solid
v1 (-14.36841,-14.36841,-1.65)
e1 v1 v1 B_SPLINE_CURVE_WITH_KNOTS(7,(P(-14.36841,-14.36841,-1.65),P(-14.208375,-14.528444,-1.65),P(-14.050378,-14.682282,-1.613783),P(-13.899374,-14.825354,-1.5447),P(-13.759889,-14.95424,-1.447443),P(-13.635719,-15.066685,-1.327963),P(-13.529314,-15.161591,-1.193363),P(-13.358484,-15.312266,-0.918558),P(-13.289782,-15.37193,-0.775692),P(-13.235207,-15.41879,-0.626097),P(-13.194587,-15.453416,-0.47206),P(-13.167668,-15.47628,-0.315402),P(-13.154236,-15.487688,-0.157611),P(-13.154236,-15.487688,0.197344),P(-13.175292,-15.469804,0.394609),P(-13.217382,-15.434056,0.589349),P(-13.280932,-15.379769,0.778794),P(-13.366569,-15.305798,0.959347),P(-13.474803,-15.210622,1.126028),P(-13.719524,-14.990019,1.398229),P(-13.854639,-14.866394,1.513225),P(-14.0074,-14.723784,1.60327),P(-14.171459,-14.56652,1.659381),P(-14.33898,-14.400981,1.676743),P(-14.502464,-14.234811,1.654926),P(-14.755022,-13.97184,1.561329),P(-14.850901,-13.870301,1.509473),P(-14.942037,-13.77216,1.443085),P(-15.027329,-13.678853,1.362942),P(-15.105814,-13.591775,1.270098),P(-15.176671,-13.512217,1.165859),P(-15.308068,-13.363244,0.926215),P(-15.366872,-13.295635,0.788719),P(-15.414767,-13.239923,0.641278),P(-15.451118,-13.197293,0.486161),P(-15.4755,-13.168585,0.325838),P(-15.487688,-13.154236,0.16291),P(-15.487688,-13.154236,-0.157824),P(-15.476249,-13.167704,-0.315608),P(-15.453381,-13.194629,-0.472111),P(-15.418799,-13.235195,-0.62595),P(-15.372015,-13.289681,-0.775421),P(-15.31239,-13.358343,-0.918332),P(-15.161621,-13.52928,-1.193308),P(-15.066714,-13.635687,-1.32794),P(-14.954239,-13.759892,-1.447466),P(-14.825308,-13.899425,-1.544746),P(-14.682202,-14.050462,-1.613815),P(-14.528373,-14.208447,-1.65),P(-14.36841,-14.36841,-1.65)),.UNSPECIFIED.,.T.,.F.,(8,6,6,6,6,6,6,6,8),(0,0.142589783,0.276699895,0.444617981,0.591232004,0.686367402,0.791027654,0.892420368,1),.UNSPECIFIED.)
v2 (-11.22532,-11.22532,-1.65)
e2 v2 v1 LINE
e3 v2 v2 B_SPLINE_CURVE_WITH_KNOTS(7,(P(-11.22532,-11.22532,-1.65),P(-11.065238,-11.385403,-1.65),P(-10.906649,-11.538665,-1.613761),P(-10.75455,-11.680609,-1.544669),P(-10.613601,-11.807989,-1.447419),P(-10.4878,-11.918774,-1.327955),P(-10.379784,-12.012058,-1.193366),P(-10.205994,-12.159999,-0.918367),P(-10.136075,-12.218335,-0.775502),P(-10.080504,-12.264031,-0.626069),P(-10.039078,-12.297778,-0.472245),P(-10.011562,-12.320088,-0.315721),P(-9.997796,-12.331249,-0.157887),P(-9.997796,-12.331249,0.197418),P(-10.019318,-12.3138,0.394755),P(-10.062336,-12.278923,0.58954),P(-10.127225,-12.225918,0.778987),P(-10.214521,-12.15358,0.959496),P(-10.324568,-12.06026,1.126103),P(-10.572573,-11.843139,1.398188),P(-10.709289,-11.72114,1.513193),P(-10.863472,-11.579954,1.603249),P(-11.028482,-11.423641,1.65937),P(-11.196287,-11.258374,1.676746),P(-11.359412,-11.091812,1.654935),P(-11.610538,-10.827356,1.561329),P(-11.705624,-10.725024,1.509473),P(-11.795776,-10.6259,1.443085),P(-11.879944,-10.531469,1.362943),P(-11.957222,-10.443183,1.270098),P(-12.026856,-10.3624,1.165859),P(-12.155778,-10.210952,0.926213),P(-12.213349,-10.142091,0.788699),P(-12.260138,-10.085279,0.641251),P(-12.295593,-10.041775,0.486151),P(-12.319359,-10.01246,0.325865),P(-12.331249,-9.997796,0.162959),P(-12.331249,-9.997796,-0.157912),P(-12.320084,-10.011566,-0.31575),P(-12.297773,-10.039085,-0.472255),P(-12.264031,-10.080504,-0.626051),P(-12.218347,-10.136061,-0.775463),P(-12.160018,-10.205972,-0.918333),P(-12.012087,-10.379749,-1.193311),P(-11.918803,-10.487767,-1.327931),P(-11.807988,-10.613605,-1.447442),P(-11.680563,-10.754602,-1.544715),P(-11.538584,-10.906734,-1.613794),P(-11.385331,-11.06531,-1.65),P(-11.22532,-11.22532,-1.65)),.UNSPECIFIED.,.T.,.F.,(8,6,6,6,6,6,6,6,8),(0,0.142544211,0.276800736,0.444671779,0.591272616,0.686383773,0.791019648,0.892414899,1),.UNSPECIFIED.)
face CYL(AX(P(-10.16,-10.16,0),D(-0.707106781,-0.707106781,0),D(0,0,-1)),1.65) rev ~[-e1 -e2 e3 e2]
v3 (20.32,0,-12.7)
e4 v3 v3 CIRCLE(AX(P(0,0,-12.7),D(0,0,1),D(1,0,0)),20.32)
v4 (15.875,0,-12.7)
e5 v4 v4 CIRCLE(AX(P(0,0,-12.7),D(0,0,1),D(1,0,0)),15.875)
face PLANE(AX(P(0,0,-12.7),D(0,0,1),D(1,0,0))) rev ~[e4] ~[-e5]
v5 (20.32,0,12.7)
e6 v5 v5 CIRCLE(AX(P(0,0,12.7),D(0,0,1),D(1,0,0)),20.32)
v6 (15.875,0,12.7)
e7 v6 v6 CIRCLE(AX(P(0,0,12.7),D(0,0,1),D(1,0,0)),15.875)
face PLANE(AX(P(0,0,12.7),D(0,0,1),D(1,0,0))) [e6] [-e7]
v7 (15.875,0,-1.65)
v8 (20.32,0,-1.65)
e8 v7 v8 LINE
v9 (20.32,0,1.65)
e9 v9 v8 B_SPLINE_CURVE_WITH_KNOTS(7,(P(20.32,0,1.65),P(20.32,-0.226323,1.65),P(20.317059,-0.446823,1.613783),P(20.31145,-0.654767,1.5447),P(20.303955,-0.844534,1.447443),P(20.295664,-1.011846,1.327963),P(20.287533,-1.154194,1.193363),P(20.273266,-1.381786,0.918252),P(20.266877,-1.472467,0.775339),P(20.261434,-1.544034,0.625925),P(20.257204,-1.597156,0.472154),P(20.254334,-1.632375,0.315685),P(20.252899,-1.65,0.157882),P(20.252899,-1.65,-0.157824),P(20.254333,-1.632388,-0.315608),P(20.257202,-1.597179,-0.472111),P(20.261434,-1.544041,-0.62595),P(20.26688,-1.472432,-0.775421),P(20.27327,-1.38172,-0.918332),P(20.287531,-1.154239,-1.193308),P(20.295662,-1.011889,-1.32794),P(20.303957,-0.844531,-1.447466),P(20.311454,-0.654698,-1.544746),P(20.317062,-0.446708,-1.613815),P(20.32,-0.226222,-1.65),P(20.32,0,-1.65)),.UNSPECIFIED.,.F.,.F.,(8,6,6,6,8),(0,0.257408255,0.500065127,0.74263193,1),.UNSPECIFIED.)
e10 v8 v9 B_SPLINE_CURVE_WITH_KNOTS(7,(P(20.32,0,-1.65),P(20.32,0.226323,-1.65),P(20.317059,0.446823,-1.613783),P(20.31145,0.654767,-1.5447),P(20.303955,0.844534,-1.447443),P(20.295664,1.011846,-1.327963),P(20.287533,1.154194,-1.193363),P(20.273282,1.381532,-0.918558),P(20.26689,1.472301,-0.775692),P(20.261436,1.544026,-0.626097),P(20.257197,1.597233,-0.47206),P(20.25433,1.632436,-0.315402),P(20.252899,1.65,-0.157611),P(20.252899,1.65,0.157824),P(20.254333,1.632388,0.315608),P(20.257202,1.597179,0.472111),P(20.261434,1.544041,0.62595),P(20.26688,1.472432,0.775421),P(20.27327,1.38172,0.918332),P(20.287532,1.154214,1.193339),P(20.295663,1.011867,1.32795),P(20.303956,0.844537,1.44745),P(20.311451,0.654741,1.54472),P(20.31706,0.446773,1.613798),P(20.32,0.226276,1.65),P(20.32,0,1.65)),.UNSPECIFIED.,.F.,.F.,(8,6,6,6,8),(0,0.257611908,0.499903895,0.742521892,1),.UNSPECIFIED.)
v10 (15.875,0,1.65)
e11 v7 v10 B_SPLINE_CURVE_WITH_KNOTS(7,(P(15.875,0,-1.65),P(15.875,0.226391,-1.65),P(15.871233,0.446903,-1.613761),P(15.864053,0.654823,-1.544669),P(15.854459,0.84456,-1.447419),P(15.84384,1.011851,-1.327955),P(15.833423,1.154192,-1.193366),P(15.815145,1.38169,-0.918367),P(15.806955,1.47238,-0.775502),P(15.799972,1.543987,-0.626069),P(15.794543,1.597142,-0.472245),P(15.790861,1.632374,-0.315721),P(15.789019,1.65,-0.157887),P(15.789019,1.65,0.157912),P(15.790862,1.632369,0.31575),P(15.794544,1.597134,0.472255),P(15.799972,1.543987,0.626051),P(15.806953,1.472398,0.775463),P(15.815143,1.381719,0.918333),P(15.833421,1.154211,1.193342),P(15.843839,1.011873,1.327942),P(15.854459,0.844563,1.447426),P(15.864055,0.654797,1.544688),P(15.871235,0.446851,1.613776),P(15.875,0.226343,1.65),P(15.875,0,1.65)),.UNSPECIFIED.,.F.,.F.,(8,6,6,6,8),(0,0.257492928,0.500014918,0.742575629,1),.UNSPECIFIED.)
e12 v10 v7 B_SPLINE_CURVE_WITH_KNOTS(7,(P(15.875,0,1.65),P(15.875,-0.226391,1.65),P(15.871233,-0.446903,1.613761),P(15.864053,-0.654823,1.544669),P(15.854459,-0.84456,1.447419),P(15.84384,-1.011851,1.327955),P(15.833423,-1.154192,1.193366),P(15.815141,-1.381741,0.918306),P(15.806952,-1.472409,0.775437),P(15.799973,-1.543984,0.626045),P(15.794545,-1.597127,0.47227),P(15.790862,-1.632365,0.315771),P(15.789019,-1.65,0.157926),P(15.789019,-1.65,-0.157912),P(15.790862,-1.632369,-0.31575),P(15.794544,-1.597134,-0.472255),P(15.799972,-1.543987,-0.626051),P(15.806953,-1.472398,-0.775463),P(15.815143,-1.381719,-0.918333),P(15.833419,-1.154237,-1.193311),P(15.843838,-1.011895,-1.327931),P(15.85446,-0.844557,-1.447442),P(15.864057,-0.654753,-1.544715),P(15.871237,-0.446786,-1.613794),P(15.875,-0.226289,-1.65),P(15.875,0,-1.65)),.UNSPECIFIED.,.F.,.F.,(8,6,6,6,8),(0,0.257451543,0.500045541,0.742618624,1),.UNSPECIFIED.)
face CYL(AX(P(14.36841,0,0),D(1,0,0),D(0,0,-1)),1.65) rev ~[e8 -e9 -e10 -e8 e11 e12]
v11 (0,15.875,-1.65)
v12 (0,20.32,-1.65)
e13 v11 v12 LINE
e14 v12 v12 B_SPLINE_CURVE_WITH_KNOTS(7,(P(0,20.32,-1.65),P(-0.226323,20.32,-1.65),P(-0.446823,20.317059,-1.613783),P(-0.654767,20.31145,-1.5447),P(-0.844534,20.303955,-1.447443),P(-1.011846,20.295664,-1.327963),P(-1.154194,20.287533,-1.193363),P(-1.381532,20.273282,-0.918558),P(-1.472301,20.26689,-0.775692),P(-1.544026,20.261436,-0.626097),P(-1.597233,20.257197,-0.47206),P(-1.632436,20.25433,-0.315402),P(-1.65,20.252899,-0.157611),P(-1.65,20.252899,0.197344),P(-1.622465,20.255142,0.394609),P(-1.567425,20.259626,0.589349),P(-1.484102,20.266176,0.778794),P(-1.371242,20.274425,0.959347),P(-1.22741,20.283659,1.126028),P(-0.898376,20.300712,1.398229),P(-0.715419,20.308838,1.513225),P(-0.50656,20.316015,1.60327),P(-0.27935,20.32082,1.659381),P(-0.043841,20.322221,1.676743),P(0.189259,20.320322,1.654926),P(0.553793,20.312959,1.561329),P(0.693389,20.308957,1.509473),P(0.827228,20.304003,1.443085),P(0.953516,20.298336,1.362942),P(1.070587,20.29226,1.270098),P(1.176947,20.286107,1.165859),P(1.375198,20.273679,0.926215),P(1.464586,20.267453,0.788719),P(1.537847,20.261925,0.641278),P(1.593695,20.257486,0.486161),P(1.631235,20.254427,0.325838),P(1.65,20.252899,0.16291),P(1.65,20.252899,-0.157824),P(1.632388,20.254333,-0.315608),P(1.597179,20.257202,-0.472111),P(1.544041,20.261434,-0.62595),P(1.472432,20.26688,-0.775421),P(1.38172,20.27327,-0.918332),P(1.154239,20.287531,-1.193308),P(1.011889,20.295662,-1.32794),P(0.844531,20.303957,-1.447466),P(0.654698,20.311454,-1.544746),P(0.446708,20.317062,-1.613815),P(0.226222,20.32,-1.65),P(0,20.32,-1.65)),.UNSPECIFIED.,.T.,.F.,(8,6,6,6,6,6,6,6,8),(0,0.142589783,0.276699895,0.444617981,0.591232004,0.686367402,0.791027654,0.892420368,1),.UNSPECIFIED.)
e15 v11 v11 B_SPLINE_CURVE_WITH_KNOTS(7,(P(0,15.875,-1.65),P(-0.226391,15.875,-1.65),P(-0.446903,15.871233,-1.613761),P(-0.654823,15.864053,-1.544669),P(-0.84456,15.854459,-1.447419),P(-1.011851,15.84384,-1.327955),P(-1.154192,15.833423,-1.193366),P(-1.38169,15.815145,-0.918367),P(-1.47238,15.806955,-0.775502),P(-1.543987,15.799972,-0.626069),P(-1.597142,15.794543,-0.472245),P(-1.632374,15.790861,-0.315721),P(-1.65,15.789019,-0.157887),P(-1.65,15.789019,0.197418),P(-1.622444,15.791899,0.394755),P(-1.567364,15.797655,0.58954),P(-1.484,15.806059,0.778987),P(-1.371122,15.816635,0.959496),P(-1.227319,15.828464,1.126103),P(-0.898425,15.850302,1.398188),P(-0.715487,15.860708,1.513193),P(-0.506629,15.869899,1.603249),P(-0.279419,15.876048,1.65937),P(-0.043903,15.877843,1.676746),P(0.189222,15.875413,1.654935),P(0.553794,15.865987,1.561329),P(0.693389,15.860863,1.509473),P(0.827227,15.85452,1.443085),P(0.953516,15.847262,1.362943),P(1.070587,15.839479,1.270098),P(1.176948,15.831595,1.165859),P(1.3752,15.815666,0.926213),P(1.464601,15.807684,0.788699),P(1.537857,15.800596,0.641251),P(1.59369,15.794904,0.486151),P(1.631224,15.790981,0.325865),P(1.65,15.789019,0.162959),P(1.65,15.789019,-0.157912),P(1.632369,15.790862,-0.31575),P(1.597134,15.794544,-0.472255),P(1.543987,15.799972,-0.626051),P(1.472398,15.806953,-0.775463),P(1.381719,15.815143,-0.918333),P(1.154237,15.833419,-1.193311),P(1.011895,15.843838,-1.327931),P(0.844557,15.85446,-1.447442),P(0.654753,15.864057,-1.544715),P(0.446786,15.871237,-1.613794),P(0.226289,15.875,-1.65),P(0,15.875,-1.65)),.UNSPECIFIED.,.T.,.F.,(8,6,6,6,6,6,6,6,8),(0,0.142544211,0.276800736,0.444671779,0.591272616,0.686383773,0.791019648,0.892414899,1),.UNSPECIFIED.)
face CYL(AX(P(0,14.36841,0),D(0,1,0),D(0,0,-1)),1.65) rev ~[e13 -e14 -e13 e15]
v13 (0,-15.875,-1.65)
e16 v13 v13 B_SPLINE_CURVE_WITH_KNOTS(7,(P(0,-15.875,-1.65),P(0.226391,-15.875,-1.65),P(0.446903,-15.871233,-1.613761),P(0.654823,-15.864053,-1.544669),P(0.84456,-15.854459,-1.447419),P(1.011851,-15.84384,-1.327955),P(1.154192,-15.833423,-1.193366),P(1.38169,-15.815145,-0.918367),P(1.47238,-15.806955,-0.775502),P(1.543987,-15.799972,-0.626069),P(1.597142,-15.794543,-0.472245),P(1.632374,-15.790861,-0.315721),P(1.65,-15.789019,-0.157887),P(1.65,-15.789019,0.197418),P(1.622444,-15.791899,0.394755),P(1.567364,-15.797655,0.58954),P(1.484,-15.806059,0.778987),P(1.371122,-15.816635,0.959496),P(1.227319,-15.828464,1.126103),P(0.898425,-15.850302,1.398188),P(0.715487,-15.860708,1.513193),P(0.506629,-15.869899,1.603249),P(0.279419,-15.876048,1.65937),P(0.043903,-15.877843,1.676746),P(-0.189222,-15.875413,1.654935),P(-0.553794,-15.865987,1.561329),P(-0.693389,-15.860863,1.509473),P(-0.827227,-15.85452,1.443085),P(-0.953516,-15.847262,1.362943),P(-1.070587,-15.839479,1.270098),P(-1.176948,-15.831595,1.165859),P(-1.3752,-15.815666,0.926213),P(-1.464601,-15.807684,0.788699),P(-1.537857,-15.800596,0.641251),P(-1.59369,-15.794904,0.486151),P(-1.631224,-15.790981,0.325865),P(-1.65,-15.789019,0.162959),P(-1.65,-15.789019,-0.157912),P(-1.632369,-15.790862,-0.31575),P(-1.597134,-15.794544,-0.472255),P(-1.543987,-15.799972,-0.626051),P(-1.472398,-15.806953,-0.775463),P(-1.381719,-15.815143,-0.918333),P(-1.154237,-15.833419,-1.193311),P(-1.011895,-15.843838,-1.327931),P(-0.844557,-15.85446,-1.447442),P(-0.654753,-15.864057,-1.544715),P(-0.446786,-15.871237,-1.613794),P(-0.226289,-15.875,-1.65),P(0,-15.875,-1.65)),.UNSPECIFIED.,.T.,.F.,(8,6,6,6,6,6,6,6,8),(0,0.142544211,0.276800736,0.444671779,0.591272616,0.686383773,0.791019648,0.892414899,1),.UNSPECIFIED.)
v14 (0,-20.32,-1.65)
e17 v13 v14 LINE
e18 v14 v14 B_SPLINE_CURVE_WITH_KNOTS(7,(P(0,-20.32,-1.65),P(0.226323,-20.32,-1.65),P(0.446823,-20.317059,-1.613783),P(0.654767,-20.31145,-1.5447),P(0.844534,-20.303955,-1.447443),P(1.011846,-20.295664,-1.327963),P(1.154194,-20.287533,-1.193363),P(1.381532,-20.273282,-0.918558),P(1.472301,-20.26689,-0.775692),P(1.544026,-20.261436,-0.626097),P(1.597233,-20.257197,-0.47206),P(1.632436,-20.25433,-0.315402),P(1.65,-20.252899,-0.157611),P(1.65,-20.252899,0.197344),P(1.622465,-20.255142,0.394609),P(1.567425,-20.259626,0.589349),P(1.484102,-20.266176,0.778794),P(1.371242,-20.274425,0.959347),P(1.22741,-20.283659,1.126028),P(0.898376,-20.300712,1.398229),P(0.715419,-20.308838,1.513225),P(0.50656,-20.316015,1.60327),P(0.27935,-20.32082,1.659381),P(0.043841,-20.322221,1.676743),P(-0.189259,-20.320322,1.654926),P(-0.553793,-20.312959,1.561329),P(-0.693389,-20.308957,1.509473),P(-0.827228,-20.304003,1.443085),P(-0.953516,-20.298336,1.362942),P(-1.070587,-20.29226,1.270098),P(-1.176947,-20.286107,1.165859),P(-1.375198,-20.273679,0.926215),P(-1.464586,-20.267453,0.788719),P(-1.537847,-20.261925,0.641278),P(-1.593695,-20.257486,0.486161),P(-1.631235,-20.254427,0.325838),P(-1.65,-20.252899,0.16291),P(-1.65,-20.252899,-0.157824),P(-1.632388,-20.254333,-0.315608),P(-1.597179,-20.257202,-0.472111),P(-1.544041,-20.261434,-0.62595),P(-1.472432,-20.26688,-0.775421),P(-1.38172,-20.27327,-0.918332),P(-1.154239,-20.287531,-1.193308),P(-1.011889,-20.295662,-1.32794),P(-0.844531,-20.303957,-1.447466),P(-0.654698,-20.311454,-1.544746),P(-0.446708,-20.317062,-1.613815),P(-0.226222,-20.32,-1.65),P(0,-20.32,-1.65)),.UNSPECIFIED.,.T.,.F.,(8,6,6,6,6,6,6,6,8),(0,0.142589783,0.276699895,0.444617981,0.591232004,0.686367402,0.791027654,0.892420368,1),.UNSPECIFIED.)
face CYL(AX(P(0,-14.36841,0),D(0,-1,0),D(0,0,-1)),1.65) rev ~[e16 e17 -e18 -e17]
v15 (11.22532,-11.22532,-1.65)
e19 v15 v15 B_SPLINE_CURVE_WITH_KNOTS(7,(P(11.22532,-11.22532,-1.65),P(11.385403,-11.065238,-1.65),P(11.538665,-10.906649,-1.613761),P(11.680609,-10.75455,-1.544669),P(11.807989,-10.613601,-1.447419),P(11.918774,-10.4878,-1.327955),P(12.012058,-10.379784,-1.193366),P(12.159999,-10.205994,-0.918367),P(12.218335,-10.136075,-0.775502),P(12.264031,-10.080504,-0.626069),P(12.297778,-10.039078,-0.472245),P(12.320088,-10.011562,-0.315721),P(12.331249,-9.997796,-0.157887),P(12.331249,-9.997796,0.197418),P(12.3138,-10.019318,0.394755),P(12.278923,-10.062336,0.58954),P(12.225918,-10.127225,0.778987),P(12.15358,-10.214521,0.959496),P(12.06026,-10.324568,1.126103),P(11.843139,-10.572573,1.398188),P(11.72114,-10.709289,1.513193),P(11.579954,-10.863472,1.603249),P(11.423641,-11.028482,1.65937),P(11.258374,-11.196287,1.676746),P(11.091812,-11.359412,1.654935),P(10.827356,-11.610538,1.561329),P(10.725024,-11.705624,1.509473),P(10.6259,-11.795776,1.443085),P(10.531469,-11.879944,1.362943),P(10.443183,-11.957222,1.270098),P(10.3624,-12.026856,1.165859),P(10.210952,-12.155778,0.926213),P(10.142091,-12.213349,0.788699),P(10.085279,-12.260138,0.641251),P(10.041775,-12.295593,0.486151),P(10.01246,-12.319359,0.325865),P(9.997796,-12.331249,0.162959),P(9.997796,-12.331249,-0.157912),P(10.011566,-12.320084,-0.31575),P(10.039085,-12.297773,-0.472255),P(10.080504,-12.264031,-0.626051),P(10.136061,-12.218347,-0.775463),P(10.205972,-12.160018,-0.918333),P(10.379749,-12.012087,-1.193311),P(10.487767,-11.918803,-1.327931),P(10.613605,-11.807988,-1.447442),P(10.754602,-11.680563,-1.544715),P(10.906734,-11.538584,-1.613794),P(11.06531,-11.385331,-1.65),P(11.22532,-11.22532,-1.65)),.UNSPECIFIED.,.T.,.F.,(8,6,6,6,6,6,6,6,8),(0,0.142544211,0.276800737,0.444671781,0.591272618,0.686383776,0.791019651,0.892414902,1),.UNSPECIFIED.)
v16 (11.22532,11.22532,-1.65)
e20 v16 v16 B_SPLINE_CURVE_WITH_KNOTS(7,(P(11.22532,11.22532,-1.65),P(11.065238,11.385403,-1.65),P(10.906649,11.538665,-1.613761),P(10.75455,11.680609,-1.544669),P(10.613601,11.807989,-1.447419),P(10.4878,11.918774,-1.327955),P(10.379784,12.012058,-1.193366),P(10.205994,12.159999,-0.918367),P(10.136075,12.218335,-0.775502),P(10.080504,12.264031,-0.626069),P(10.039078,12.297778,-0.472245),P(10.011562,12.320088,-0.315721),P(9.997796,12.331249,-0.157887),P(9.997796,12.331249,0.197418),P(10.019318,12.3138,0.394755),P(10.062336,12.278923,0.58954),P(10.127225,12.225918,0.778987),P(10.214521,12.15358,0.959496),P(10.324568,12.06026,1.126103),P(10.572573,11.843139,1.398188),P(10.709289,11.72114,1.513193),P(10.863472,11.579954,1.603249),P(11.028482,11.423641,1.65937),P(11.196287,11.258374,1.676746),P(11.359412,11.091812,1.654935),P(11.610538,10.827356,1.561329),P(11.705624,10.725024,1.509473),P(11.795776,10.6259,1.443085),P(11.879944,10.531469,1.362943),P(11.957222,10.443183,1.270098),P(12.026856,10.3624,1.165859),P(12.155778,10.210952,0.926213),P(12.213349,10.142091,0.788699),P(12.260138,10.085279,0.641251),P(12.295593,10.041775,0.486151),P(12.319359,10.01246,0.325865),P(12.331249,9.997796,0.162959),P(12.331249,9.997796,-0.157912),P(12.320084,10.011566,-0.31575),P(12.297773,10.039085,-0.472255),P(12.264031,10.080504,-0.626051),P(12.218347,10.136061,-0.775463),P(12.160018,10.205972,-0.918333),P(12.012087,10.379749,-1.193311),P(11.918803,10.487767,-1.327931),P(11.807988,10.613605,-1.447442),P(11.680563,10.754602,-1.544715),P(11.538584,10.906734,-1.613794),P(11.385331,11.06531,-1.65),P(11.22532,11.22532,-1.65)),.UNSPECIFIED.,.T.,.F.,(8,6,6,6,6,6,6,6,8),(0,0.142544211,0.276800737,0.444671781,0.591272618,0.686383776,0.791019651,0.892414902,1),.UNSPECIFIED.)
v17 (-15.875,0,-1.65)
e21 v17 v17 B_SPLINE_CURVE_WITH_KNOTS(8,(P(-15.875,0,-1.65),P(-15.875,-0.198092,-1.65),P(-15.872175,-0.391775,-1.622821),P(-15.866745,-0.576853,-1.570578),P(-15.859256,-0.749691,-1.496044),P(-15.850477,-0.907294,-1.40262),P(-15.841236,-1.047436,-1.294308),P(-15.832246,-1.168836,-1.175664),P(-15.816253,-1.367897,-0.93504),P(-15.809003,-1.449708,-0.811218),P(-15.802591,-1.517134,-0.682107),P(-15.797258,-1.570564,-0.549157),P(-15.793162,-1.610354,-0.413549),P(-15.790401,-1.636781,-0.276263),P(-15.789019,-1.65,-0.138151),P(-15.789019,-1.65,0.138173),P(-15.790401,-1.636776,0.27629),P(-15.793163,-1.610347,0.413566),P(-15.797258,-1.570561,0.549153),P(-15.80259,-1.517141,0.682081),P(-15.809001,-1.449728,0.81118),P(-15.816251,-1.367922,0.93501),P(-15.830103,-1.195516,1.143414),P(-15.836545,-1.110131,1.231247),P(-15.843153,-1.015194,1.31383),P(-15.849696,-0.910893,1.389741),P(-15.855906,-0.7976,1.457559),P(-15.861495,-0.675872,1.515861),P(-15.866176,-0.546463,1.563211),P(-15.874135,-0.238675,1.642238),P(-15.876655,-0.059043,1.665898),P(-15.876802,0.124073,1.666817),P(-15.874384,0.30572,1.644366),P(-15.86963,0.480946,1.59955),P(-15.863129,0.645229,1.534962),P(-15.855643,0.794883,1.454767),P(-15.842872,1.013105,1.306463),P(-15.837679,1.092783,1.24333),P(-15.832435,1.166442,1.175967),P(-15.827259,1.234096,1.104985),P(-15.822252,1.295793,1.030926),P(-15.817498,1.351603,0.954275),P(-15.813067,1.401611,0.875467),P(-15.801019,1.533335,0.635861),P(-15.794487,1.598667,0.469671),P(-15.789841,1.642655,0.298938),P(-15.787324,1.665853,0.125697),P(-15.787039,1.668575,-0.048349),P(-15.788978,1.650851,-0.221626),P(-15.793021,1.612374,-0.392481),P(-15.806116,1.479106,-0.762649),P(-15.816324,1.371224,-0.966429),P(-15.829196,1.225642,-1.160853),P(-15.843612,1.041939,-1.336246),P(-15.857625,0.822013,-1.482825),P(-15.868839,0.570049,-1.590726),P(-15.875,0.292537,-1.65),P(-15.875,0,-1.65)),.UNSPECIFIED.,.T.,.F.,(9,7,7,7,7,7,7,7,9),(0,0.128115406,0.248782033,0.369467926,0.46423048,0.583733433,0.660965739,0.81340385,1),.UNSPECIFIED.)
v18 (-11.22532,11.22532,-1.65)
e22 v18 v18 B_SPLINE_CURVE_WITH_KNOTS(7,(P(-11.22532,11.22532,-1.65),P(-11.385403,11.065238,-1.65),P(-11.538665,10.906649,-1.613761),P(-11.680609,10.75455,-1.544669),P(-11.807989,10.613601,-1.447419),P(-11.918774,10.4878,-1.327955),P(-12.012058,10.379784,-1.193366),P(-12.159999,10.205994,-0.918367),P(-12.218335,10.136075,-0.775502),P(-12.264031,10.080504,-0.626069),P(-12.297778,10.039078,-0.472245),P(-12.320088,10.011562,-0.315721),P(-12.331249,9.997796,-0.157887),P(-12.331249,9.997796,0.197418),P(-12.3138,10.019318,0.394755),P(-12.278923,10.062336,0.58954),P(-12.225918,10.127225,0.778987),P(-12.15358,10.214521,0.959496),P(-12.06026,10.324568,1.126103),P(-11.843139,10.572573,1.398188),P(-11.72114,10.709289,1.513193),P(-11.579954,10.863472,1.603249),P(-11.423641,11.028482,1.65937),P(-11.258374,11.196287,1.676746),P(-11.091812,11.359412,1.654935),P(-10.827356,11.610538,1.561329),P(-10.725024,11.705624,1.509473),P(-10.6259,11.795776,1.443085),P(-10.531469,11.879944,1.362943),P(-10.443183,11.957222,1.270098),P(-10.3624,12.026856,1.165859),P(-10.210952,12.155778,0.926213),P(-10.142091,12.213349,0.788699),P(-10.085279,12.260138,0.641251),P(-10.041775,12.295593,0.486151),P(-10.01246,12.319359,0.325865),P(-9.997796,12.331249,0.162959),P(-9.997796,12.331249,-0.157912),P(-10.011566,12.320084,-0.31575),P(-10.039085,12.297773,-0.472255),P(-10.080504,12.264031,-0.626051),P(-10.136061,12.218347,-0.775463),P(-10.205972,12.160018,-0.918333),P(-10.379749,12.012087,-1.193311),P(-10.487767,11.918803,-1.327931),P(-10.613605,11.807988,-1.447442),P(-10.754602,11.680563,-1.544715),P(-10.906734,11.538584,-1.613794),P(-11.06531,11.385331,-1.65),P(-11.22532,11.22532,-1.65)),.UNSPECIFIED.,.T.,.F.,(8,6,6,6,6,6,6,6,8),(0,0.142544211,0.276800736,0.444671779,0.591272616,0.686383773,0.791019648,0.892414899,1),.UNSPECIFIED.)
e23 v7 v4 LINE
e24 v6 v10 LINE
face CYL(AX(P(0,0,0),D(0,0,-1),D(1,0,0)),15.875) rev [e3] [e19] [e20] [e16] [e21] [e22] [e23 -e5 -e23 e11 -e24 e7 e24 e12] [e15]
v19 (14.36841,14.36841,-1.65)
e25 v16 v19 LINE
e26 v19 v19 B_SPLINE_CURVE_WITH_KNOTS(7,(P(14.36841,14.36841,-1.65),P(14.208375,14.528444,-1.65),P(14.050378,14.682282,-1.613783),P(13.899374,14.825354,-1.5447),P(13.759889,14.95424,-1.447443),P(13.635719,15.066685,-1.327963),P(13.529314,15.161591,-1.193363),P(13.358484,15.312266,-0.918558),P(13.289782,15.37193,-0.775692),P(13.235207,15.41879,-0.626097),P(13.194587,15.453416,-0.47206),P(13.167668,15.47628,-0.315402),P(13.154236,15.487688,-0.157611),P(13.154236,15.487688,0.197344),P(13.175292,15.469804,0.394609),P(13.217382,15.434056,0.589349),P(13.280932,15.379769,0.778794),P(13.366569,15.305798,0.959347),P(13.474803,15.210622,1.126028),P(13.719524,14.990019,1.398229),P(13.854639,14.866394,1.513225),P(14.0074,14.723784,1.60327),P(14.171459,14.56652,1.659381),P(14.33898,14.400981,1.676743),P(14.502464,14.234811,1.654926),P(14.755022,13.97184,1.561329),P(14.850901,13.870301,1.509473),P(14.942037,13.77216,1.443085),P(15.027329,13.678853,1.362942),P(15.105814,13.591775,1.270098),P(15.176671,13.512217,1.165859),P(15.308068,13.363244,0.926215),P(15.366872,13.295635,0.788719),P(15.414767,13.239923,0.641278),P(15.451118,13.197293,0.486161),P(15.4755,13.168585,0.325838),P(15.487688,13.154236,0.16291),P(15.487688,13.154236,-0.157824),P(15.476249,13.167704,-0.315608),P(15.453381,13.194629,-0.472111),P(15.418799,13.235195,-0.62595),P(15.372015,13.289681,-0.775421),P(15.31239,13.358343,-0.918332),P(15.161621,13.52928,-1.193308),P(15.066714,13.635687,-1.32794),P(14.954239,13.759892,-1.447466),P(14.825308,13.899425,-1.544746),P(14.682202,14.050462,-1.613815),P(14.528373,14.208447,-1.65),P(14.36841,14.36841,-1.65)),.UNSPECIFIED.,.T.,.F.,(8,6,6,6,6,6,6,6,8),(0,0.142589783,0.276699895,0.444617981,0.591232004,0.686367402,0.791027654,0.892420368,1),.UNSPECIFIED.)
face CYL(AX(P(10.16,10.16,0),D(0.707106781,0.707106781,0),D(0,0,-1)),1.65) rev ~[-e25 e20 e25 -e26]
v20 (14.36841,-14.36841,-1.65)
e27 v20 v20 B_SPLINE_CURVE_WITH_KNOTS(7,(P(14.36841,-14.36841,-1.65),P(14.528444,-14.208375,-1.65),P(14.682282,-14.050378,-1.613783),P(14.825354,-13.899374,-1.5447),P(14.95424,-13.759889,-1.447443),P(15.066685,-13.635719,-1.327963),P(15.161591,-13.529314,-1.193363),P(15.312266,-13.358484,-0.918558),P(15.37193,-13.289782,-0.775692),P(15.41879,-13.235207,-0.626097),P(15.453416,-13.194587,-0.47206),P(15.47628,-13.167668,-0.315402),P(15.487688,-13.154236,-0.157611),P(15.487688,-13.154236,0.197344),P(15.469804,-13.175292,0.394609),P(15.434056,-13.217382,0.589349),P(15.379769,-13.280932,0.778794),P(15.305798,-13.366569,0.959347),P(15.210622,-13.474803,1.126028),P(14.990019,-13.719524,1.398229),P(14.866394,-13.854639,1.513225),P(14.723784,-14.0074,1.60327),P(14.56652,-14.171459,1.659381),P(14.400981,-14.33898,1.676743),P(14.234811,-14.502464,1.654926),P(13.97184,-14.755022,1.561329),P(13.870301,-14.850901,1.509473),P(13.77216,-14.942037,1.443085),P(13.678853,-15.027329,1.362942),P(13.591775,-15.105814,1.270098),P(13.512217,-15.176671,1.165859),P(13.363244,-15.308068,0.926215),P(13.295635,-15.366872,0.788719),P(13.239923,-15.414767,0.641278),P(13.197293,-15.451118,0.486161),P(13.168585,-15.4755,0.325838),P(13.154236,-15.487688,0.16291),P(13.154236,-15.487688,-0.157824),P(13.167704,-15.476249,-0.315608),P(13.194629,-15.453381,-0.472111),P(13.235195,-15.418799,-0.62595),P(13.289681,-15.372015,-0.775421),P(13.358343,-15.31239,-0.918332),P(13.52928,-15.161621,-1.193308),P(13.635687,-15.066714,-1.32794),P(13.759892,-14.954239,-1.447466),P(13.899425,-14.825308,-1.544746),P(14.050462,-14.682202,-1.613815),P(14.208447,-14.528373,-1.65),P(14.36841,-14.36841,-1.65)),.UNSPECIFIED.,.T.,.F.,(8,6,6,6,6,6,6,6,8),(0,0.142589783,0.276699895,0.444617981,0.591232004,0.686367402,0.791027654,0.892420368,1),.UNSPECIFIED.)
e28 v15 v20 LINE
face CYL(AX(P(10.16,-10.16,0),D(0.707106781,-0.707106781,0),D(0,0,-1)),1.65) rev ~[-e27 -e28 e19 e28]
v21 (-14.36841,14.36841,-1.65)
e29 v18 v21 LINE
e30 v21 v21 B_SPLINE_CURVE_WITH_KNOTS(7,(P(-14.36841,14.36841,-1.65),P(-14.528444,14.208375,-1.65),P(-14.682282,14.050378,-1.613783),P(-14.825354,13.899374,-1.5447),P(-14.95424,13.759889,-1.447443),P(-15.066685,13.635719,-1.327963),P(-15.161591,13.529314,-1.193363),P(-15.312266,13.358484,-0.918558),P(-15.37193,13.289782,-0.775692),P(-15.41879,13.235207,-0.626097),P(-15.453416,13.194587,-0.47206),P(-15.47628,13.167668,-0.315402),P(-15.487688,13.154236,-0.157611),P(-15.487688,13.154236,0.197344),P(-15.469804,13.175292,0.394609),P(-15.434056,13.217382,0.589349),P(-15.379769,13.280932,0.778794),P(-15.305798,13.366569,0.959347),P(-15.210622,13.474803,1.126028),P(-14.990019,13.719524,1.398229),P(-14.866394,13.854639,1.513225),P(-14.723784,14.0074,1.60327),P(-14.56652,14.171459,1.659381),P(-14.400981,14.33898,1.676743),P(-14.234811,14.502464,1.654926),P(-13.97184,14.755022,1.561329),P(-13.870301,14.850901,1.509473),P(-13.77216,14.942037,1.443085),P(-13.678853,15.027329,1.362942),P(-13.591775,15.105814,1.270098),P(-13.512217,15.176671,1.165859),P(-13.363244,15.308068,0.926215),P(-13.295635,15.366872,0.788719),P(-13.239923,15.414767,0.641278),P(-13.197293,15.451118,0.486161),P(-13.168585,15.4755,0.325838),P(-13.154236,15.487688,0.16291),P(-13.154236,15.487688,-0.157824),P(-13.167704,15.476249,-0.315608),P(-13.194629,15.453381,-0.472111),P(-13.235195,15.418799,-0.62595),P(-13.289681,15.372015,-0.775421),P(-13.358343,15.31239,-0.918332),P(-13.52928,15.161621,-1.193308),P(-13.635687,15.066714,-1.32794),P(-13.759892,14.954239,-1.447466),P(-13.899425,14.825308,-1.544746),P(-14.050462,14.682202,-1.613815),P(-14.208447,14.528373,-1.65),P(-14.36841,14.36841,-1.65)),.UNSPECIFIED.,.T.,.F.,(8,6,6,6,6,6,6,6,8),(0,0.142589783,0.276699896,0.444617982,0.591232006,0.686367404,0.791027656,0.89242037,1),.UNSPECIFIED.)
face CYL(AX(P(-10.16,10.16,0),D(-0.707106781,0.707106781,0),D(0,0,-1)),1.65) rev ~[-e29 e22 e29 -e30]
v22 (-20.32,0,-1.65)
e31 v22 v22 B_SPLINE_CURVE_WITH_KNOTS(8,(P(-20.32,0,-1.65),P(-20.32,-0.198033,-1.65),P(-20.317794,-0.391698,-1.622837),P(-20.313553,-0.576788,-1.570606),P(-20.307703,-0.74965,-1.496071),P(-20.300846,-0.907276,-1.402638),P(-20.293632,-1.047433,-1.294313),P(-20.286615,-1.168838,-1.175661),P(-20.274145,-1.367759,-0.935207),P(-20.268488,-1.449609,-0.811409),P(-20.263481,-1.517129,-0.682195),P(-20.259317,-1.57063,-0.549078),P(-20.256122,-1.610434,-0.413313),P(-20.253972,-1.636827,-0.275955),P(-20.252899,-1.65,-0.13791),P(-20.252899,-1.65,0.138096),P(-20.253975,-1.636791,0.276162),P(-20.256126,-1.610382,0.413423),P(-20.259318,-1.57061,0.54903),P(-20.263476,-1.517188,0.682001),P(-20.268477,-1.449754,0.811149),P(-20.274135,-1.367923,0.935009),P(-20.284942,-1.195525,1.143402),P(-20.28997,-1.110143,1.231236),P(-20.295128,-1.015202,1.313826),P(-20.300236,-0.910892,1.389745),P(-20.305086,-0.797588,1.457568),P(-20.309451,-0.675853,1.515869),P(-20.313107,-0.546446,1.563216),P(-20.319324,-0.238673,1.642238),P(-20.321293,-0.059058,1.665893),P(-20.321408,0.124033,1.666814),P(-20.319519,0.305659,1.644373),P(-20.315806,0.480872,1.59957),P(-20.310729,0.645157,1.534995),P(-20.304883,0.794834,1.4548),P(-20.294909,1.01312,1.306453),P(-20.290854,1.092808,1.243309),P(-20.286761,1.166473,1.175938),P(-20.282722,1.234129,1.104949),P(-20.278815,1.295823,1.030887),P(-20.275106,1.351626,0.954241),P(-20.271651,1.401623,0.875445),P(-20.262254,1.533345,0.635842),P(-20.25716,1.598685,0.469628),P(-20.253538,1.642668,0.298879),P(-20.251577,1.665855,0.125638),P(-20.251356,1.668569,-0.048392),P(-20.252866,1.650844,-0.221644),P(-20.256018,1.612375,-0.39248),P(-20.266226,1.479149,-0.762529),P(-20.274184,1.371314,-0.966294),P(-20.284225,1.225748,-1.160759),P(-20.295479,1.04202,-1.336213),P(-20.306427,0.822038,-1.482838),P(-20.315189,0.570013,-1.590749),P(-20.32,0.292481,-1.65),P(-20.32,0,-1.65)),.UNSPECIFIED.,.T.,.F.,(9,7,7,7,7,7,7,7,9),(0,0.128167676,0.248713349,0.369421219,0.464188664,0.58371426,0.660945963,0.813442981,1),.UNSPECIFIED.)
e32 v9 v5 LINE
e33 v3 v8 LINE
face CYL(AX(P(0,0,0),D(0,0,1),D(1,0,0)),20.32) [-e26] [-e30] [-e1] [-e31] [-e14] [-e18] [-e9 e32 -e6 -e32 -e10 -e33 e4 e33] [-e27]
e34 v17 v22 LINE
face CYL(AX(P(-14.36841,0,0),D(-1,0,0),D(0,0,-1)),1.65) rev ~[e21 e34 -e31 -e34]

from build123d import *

# Parameters (mm, degrees)
SKETCH1_R           = 20.32
SKETCH1_R_2         = 15.875
BOSS_EXTRUDE1_DEPTH = 12.7
SKETCH3_W           = 1.65
SKETCH3_H           = 28.736819587
CIRPATTERN1_COUNT   = 8


with BuildPart() as part:
    # Sketch1 → Boss-Extrude1 (new, symmetric)
    with BuildSketch(Plane.XY):
        Circle(SKETCH1_R)
        Circle(SKETCH1_R_2, mode=Mode.SUBTRACT)
    extrude(amount=BOSS_EXTRUDE1_DEPTH, both=True)

    # Sketch3 → M4x0.7 Tapped Hole1 (revolve, cut)
    with BuildSketch(Plane(origin=(0, 0, 0), x_dir=(0, 0, -1), z_dir=(1, 0, 0))):
        with Locations((0.825, 14.368409794)):
            Rectangle(SKETCH3_W, SKETCH3_H)
    m4x0_7_tapped_hole1 = revolve(axis=Axis((0, -6.35, 0), (0, 1, 0)), mode=Mode.SUBTRACT)

    # CirPattern1: M4x0.7 Tapped Hole1 ×8 about axis
    cirpattern1_axis = Axis((0, 0, 12.7), (0, 0, -1))
    for i in range(1, CIRPATTERN1_COUNT):
        add(m4x0_7_tapped_hole1.rotate(cirpattern1_axis, i * 360 / CIRPATTERN1_COUNT), mode=Mode.SUBTRACT)


solid = part.part
